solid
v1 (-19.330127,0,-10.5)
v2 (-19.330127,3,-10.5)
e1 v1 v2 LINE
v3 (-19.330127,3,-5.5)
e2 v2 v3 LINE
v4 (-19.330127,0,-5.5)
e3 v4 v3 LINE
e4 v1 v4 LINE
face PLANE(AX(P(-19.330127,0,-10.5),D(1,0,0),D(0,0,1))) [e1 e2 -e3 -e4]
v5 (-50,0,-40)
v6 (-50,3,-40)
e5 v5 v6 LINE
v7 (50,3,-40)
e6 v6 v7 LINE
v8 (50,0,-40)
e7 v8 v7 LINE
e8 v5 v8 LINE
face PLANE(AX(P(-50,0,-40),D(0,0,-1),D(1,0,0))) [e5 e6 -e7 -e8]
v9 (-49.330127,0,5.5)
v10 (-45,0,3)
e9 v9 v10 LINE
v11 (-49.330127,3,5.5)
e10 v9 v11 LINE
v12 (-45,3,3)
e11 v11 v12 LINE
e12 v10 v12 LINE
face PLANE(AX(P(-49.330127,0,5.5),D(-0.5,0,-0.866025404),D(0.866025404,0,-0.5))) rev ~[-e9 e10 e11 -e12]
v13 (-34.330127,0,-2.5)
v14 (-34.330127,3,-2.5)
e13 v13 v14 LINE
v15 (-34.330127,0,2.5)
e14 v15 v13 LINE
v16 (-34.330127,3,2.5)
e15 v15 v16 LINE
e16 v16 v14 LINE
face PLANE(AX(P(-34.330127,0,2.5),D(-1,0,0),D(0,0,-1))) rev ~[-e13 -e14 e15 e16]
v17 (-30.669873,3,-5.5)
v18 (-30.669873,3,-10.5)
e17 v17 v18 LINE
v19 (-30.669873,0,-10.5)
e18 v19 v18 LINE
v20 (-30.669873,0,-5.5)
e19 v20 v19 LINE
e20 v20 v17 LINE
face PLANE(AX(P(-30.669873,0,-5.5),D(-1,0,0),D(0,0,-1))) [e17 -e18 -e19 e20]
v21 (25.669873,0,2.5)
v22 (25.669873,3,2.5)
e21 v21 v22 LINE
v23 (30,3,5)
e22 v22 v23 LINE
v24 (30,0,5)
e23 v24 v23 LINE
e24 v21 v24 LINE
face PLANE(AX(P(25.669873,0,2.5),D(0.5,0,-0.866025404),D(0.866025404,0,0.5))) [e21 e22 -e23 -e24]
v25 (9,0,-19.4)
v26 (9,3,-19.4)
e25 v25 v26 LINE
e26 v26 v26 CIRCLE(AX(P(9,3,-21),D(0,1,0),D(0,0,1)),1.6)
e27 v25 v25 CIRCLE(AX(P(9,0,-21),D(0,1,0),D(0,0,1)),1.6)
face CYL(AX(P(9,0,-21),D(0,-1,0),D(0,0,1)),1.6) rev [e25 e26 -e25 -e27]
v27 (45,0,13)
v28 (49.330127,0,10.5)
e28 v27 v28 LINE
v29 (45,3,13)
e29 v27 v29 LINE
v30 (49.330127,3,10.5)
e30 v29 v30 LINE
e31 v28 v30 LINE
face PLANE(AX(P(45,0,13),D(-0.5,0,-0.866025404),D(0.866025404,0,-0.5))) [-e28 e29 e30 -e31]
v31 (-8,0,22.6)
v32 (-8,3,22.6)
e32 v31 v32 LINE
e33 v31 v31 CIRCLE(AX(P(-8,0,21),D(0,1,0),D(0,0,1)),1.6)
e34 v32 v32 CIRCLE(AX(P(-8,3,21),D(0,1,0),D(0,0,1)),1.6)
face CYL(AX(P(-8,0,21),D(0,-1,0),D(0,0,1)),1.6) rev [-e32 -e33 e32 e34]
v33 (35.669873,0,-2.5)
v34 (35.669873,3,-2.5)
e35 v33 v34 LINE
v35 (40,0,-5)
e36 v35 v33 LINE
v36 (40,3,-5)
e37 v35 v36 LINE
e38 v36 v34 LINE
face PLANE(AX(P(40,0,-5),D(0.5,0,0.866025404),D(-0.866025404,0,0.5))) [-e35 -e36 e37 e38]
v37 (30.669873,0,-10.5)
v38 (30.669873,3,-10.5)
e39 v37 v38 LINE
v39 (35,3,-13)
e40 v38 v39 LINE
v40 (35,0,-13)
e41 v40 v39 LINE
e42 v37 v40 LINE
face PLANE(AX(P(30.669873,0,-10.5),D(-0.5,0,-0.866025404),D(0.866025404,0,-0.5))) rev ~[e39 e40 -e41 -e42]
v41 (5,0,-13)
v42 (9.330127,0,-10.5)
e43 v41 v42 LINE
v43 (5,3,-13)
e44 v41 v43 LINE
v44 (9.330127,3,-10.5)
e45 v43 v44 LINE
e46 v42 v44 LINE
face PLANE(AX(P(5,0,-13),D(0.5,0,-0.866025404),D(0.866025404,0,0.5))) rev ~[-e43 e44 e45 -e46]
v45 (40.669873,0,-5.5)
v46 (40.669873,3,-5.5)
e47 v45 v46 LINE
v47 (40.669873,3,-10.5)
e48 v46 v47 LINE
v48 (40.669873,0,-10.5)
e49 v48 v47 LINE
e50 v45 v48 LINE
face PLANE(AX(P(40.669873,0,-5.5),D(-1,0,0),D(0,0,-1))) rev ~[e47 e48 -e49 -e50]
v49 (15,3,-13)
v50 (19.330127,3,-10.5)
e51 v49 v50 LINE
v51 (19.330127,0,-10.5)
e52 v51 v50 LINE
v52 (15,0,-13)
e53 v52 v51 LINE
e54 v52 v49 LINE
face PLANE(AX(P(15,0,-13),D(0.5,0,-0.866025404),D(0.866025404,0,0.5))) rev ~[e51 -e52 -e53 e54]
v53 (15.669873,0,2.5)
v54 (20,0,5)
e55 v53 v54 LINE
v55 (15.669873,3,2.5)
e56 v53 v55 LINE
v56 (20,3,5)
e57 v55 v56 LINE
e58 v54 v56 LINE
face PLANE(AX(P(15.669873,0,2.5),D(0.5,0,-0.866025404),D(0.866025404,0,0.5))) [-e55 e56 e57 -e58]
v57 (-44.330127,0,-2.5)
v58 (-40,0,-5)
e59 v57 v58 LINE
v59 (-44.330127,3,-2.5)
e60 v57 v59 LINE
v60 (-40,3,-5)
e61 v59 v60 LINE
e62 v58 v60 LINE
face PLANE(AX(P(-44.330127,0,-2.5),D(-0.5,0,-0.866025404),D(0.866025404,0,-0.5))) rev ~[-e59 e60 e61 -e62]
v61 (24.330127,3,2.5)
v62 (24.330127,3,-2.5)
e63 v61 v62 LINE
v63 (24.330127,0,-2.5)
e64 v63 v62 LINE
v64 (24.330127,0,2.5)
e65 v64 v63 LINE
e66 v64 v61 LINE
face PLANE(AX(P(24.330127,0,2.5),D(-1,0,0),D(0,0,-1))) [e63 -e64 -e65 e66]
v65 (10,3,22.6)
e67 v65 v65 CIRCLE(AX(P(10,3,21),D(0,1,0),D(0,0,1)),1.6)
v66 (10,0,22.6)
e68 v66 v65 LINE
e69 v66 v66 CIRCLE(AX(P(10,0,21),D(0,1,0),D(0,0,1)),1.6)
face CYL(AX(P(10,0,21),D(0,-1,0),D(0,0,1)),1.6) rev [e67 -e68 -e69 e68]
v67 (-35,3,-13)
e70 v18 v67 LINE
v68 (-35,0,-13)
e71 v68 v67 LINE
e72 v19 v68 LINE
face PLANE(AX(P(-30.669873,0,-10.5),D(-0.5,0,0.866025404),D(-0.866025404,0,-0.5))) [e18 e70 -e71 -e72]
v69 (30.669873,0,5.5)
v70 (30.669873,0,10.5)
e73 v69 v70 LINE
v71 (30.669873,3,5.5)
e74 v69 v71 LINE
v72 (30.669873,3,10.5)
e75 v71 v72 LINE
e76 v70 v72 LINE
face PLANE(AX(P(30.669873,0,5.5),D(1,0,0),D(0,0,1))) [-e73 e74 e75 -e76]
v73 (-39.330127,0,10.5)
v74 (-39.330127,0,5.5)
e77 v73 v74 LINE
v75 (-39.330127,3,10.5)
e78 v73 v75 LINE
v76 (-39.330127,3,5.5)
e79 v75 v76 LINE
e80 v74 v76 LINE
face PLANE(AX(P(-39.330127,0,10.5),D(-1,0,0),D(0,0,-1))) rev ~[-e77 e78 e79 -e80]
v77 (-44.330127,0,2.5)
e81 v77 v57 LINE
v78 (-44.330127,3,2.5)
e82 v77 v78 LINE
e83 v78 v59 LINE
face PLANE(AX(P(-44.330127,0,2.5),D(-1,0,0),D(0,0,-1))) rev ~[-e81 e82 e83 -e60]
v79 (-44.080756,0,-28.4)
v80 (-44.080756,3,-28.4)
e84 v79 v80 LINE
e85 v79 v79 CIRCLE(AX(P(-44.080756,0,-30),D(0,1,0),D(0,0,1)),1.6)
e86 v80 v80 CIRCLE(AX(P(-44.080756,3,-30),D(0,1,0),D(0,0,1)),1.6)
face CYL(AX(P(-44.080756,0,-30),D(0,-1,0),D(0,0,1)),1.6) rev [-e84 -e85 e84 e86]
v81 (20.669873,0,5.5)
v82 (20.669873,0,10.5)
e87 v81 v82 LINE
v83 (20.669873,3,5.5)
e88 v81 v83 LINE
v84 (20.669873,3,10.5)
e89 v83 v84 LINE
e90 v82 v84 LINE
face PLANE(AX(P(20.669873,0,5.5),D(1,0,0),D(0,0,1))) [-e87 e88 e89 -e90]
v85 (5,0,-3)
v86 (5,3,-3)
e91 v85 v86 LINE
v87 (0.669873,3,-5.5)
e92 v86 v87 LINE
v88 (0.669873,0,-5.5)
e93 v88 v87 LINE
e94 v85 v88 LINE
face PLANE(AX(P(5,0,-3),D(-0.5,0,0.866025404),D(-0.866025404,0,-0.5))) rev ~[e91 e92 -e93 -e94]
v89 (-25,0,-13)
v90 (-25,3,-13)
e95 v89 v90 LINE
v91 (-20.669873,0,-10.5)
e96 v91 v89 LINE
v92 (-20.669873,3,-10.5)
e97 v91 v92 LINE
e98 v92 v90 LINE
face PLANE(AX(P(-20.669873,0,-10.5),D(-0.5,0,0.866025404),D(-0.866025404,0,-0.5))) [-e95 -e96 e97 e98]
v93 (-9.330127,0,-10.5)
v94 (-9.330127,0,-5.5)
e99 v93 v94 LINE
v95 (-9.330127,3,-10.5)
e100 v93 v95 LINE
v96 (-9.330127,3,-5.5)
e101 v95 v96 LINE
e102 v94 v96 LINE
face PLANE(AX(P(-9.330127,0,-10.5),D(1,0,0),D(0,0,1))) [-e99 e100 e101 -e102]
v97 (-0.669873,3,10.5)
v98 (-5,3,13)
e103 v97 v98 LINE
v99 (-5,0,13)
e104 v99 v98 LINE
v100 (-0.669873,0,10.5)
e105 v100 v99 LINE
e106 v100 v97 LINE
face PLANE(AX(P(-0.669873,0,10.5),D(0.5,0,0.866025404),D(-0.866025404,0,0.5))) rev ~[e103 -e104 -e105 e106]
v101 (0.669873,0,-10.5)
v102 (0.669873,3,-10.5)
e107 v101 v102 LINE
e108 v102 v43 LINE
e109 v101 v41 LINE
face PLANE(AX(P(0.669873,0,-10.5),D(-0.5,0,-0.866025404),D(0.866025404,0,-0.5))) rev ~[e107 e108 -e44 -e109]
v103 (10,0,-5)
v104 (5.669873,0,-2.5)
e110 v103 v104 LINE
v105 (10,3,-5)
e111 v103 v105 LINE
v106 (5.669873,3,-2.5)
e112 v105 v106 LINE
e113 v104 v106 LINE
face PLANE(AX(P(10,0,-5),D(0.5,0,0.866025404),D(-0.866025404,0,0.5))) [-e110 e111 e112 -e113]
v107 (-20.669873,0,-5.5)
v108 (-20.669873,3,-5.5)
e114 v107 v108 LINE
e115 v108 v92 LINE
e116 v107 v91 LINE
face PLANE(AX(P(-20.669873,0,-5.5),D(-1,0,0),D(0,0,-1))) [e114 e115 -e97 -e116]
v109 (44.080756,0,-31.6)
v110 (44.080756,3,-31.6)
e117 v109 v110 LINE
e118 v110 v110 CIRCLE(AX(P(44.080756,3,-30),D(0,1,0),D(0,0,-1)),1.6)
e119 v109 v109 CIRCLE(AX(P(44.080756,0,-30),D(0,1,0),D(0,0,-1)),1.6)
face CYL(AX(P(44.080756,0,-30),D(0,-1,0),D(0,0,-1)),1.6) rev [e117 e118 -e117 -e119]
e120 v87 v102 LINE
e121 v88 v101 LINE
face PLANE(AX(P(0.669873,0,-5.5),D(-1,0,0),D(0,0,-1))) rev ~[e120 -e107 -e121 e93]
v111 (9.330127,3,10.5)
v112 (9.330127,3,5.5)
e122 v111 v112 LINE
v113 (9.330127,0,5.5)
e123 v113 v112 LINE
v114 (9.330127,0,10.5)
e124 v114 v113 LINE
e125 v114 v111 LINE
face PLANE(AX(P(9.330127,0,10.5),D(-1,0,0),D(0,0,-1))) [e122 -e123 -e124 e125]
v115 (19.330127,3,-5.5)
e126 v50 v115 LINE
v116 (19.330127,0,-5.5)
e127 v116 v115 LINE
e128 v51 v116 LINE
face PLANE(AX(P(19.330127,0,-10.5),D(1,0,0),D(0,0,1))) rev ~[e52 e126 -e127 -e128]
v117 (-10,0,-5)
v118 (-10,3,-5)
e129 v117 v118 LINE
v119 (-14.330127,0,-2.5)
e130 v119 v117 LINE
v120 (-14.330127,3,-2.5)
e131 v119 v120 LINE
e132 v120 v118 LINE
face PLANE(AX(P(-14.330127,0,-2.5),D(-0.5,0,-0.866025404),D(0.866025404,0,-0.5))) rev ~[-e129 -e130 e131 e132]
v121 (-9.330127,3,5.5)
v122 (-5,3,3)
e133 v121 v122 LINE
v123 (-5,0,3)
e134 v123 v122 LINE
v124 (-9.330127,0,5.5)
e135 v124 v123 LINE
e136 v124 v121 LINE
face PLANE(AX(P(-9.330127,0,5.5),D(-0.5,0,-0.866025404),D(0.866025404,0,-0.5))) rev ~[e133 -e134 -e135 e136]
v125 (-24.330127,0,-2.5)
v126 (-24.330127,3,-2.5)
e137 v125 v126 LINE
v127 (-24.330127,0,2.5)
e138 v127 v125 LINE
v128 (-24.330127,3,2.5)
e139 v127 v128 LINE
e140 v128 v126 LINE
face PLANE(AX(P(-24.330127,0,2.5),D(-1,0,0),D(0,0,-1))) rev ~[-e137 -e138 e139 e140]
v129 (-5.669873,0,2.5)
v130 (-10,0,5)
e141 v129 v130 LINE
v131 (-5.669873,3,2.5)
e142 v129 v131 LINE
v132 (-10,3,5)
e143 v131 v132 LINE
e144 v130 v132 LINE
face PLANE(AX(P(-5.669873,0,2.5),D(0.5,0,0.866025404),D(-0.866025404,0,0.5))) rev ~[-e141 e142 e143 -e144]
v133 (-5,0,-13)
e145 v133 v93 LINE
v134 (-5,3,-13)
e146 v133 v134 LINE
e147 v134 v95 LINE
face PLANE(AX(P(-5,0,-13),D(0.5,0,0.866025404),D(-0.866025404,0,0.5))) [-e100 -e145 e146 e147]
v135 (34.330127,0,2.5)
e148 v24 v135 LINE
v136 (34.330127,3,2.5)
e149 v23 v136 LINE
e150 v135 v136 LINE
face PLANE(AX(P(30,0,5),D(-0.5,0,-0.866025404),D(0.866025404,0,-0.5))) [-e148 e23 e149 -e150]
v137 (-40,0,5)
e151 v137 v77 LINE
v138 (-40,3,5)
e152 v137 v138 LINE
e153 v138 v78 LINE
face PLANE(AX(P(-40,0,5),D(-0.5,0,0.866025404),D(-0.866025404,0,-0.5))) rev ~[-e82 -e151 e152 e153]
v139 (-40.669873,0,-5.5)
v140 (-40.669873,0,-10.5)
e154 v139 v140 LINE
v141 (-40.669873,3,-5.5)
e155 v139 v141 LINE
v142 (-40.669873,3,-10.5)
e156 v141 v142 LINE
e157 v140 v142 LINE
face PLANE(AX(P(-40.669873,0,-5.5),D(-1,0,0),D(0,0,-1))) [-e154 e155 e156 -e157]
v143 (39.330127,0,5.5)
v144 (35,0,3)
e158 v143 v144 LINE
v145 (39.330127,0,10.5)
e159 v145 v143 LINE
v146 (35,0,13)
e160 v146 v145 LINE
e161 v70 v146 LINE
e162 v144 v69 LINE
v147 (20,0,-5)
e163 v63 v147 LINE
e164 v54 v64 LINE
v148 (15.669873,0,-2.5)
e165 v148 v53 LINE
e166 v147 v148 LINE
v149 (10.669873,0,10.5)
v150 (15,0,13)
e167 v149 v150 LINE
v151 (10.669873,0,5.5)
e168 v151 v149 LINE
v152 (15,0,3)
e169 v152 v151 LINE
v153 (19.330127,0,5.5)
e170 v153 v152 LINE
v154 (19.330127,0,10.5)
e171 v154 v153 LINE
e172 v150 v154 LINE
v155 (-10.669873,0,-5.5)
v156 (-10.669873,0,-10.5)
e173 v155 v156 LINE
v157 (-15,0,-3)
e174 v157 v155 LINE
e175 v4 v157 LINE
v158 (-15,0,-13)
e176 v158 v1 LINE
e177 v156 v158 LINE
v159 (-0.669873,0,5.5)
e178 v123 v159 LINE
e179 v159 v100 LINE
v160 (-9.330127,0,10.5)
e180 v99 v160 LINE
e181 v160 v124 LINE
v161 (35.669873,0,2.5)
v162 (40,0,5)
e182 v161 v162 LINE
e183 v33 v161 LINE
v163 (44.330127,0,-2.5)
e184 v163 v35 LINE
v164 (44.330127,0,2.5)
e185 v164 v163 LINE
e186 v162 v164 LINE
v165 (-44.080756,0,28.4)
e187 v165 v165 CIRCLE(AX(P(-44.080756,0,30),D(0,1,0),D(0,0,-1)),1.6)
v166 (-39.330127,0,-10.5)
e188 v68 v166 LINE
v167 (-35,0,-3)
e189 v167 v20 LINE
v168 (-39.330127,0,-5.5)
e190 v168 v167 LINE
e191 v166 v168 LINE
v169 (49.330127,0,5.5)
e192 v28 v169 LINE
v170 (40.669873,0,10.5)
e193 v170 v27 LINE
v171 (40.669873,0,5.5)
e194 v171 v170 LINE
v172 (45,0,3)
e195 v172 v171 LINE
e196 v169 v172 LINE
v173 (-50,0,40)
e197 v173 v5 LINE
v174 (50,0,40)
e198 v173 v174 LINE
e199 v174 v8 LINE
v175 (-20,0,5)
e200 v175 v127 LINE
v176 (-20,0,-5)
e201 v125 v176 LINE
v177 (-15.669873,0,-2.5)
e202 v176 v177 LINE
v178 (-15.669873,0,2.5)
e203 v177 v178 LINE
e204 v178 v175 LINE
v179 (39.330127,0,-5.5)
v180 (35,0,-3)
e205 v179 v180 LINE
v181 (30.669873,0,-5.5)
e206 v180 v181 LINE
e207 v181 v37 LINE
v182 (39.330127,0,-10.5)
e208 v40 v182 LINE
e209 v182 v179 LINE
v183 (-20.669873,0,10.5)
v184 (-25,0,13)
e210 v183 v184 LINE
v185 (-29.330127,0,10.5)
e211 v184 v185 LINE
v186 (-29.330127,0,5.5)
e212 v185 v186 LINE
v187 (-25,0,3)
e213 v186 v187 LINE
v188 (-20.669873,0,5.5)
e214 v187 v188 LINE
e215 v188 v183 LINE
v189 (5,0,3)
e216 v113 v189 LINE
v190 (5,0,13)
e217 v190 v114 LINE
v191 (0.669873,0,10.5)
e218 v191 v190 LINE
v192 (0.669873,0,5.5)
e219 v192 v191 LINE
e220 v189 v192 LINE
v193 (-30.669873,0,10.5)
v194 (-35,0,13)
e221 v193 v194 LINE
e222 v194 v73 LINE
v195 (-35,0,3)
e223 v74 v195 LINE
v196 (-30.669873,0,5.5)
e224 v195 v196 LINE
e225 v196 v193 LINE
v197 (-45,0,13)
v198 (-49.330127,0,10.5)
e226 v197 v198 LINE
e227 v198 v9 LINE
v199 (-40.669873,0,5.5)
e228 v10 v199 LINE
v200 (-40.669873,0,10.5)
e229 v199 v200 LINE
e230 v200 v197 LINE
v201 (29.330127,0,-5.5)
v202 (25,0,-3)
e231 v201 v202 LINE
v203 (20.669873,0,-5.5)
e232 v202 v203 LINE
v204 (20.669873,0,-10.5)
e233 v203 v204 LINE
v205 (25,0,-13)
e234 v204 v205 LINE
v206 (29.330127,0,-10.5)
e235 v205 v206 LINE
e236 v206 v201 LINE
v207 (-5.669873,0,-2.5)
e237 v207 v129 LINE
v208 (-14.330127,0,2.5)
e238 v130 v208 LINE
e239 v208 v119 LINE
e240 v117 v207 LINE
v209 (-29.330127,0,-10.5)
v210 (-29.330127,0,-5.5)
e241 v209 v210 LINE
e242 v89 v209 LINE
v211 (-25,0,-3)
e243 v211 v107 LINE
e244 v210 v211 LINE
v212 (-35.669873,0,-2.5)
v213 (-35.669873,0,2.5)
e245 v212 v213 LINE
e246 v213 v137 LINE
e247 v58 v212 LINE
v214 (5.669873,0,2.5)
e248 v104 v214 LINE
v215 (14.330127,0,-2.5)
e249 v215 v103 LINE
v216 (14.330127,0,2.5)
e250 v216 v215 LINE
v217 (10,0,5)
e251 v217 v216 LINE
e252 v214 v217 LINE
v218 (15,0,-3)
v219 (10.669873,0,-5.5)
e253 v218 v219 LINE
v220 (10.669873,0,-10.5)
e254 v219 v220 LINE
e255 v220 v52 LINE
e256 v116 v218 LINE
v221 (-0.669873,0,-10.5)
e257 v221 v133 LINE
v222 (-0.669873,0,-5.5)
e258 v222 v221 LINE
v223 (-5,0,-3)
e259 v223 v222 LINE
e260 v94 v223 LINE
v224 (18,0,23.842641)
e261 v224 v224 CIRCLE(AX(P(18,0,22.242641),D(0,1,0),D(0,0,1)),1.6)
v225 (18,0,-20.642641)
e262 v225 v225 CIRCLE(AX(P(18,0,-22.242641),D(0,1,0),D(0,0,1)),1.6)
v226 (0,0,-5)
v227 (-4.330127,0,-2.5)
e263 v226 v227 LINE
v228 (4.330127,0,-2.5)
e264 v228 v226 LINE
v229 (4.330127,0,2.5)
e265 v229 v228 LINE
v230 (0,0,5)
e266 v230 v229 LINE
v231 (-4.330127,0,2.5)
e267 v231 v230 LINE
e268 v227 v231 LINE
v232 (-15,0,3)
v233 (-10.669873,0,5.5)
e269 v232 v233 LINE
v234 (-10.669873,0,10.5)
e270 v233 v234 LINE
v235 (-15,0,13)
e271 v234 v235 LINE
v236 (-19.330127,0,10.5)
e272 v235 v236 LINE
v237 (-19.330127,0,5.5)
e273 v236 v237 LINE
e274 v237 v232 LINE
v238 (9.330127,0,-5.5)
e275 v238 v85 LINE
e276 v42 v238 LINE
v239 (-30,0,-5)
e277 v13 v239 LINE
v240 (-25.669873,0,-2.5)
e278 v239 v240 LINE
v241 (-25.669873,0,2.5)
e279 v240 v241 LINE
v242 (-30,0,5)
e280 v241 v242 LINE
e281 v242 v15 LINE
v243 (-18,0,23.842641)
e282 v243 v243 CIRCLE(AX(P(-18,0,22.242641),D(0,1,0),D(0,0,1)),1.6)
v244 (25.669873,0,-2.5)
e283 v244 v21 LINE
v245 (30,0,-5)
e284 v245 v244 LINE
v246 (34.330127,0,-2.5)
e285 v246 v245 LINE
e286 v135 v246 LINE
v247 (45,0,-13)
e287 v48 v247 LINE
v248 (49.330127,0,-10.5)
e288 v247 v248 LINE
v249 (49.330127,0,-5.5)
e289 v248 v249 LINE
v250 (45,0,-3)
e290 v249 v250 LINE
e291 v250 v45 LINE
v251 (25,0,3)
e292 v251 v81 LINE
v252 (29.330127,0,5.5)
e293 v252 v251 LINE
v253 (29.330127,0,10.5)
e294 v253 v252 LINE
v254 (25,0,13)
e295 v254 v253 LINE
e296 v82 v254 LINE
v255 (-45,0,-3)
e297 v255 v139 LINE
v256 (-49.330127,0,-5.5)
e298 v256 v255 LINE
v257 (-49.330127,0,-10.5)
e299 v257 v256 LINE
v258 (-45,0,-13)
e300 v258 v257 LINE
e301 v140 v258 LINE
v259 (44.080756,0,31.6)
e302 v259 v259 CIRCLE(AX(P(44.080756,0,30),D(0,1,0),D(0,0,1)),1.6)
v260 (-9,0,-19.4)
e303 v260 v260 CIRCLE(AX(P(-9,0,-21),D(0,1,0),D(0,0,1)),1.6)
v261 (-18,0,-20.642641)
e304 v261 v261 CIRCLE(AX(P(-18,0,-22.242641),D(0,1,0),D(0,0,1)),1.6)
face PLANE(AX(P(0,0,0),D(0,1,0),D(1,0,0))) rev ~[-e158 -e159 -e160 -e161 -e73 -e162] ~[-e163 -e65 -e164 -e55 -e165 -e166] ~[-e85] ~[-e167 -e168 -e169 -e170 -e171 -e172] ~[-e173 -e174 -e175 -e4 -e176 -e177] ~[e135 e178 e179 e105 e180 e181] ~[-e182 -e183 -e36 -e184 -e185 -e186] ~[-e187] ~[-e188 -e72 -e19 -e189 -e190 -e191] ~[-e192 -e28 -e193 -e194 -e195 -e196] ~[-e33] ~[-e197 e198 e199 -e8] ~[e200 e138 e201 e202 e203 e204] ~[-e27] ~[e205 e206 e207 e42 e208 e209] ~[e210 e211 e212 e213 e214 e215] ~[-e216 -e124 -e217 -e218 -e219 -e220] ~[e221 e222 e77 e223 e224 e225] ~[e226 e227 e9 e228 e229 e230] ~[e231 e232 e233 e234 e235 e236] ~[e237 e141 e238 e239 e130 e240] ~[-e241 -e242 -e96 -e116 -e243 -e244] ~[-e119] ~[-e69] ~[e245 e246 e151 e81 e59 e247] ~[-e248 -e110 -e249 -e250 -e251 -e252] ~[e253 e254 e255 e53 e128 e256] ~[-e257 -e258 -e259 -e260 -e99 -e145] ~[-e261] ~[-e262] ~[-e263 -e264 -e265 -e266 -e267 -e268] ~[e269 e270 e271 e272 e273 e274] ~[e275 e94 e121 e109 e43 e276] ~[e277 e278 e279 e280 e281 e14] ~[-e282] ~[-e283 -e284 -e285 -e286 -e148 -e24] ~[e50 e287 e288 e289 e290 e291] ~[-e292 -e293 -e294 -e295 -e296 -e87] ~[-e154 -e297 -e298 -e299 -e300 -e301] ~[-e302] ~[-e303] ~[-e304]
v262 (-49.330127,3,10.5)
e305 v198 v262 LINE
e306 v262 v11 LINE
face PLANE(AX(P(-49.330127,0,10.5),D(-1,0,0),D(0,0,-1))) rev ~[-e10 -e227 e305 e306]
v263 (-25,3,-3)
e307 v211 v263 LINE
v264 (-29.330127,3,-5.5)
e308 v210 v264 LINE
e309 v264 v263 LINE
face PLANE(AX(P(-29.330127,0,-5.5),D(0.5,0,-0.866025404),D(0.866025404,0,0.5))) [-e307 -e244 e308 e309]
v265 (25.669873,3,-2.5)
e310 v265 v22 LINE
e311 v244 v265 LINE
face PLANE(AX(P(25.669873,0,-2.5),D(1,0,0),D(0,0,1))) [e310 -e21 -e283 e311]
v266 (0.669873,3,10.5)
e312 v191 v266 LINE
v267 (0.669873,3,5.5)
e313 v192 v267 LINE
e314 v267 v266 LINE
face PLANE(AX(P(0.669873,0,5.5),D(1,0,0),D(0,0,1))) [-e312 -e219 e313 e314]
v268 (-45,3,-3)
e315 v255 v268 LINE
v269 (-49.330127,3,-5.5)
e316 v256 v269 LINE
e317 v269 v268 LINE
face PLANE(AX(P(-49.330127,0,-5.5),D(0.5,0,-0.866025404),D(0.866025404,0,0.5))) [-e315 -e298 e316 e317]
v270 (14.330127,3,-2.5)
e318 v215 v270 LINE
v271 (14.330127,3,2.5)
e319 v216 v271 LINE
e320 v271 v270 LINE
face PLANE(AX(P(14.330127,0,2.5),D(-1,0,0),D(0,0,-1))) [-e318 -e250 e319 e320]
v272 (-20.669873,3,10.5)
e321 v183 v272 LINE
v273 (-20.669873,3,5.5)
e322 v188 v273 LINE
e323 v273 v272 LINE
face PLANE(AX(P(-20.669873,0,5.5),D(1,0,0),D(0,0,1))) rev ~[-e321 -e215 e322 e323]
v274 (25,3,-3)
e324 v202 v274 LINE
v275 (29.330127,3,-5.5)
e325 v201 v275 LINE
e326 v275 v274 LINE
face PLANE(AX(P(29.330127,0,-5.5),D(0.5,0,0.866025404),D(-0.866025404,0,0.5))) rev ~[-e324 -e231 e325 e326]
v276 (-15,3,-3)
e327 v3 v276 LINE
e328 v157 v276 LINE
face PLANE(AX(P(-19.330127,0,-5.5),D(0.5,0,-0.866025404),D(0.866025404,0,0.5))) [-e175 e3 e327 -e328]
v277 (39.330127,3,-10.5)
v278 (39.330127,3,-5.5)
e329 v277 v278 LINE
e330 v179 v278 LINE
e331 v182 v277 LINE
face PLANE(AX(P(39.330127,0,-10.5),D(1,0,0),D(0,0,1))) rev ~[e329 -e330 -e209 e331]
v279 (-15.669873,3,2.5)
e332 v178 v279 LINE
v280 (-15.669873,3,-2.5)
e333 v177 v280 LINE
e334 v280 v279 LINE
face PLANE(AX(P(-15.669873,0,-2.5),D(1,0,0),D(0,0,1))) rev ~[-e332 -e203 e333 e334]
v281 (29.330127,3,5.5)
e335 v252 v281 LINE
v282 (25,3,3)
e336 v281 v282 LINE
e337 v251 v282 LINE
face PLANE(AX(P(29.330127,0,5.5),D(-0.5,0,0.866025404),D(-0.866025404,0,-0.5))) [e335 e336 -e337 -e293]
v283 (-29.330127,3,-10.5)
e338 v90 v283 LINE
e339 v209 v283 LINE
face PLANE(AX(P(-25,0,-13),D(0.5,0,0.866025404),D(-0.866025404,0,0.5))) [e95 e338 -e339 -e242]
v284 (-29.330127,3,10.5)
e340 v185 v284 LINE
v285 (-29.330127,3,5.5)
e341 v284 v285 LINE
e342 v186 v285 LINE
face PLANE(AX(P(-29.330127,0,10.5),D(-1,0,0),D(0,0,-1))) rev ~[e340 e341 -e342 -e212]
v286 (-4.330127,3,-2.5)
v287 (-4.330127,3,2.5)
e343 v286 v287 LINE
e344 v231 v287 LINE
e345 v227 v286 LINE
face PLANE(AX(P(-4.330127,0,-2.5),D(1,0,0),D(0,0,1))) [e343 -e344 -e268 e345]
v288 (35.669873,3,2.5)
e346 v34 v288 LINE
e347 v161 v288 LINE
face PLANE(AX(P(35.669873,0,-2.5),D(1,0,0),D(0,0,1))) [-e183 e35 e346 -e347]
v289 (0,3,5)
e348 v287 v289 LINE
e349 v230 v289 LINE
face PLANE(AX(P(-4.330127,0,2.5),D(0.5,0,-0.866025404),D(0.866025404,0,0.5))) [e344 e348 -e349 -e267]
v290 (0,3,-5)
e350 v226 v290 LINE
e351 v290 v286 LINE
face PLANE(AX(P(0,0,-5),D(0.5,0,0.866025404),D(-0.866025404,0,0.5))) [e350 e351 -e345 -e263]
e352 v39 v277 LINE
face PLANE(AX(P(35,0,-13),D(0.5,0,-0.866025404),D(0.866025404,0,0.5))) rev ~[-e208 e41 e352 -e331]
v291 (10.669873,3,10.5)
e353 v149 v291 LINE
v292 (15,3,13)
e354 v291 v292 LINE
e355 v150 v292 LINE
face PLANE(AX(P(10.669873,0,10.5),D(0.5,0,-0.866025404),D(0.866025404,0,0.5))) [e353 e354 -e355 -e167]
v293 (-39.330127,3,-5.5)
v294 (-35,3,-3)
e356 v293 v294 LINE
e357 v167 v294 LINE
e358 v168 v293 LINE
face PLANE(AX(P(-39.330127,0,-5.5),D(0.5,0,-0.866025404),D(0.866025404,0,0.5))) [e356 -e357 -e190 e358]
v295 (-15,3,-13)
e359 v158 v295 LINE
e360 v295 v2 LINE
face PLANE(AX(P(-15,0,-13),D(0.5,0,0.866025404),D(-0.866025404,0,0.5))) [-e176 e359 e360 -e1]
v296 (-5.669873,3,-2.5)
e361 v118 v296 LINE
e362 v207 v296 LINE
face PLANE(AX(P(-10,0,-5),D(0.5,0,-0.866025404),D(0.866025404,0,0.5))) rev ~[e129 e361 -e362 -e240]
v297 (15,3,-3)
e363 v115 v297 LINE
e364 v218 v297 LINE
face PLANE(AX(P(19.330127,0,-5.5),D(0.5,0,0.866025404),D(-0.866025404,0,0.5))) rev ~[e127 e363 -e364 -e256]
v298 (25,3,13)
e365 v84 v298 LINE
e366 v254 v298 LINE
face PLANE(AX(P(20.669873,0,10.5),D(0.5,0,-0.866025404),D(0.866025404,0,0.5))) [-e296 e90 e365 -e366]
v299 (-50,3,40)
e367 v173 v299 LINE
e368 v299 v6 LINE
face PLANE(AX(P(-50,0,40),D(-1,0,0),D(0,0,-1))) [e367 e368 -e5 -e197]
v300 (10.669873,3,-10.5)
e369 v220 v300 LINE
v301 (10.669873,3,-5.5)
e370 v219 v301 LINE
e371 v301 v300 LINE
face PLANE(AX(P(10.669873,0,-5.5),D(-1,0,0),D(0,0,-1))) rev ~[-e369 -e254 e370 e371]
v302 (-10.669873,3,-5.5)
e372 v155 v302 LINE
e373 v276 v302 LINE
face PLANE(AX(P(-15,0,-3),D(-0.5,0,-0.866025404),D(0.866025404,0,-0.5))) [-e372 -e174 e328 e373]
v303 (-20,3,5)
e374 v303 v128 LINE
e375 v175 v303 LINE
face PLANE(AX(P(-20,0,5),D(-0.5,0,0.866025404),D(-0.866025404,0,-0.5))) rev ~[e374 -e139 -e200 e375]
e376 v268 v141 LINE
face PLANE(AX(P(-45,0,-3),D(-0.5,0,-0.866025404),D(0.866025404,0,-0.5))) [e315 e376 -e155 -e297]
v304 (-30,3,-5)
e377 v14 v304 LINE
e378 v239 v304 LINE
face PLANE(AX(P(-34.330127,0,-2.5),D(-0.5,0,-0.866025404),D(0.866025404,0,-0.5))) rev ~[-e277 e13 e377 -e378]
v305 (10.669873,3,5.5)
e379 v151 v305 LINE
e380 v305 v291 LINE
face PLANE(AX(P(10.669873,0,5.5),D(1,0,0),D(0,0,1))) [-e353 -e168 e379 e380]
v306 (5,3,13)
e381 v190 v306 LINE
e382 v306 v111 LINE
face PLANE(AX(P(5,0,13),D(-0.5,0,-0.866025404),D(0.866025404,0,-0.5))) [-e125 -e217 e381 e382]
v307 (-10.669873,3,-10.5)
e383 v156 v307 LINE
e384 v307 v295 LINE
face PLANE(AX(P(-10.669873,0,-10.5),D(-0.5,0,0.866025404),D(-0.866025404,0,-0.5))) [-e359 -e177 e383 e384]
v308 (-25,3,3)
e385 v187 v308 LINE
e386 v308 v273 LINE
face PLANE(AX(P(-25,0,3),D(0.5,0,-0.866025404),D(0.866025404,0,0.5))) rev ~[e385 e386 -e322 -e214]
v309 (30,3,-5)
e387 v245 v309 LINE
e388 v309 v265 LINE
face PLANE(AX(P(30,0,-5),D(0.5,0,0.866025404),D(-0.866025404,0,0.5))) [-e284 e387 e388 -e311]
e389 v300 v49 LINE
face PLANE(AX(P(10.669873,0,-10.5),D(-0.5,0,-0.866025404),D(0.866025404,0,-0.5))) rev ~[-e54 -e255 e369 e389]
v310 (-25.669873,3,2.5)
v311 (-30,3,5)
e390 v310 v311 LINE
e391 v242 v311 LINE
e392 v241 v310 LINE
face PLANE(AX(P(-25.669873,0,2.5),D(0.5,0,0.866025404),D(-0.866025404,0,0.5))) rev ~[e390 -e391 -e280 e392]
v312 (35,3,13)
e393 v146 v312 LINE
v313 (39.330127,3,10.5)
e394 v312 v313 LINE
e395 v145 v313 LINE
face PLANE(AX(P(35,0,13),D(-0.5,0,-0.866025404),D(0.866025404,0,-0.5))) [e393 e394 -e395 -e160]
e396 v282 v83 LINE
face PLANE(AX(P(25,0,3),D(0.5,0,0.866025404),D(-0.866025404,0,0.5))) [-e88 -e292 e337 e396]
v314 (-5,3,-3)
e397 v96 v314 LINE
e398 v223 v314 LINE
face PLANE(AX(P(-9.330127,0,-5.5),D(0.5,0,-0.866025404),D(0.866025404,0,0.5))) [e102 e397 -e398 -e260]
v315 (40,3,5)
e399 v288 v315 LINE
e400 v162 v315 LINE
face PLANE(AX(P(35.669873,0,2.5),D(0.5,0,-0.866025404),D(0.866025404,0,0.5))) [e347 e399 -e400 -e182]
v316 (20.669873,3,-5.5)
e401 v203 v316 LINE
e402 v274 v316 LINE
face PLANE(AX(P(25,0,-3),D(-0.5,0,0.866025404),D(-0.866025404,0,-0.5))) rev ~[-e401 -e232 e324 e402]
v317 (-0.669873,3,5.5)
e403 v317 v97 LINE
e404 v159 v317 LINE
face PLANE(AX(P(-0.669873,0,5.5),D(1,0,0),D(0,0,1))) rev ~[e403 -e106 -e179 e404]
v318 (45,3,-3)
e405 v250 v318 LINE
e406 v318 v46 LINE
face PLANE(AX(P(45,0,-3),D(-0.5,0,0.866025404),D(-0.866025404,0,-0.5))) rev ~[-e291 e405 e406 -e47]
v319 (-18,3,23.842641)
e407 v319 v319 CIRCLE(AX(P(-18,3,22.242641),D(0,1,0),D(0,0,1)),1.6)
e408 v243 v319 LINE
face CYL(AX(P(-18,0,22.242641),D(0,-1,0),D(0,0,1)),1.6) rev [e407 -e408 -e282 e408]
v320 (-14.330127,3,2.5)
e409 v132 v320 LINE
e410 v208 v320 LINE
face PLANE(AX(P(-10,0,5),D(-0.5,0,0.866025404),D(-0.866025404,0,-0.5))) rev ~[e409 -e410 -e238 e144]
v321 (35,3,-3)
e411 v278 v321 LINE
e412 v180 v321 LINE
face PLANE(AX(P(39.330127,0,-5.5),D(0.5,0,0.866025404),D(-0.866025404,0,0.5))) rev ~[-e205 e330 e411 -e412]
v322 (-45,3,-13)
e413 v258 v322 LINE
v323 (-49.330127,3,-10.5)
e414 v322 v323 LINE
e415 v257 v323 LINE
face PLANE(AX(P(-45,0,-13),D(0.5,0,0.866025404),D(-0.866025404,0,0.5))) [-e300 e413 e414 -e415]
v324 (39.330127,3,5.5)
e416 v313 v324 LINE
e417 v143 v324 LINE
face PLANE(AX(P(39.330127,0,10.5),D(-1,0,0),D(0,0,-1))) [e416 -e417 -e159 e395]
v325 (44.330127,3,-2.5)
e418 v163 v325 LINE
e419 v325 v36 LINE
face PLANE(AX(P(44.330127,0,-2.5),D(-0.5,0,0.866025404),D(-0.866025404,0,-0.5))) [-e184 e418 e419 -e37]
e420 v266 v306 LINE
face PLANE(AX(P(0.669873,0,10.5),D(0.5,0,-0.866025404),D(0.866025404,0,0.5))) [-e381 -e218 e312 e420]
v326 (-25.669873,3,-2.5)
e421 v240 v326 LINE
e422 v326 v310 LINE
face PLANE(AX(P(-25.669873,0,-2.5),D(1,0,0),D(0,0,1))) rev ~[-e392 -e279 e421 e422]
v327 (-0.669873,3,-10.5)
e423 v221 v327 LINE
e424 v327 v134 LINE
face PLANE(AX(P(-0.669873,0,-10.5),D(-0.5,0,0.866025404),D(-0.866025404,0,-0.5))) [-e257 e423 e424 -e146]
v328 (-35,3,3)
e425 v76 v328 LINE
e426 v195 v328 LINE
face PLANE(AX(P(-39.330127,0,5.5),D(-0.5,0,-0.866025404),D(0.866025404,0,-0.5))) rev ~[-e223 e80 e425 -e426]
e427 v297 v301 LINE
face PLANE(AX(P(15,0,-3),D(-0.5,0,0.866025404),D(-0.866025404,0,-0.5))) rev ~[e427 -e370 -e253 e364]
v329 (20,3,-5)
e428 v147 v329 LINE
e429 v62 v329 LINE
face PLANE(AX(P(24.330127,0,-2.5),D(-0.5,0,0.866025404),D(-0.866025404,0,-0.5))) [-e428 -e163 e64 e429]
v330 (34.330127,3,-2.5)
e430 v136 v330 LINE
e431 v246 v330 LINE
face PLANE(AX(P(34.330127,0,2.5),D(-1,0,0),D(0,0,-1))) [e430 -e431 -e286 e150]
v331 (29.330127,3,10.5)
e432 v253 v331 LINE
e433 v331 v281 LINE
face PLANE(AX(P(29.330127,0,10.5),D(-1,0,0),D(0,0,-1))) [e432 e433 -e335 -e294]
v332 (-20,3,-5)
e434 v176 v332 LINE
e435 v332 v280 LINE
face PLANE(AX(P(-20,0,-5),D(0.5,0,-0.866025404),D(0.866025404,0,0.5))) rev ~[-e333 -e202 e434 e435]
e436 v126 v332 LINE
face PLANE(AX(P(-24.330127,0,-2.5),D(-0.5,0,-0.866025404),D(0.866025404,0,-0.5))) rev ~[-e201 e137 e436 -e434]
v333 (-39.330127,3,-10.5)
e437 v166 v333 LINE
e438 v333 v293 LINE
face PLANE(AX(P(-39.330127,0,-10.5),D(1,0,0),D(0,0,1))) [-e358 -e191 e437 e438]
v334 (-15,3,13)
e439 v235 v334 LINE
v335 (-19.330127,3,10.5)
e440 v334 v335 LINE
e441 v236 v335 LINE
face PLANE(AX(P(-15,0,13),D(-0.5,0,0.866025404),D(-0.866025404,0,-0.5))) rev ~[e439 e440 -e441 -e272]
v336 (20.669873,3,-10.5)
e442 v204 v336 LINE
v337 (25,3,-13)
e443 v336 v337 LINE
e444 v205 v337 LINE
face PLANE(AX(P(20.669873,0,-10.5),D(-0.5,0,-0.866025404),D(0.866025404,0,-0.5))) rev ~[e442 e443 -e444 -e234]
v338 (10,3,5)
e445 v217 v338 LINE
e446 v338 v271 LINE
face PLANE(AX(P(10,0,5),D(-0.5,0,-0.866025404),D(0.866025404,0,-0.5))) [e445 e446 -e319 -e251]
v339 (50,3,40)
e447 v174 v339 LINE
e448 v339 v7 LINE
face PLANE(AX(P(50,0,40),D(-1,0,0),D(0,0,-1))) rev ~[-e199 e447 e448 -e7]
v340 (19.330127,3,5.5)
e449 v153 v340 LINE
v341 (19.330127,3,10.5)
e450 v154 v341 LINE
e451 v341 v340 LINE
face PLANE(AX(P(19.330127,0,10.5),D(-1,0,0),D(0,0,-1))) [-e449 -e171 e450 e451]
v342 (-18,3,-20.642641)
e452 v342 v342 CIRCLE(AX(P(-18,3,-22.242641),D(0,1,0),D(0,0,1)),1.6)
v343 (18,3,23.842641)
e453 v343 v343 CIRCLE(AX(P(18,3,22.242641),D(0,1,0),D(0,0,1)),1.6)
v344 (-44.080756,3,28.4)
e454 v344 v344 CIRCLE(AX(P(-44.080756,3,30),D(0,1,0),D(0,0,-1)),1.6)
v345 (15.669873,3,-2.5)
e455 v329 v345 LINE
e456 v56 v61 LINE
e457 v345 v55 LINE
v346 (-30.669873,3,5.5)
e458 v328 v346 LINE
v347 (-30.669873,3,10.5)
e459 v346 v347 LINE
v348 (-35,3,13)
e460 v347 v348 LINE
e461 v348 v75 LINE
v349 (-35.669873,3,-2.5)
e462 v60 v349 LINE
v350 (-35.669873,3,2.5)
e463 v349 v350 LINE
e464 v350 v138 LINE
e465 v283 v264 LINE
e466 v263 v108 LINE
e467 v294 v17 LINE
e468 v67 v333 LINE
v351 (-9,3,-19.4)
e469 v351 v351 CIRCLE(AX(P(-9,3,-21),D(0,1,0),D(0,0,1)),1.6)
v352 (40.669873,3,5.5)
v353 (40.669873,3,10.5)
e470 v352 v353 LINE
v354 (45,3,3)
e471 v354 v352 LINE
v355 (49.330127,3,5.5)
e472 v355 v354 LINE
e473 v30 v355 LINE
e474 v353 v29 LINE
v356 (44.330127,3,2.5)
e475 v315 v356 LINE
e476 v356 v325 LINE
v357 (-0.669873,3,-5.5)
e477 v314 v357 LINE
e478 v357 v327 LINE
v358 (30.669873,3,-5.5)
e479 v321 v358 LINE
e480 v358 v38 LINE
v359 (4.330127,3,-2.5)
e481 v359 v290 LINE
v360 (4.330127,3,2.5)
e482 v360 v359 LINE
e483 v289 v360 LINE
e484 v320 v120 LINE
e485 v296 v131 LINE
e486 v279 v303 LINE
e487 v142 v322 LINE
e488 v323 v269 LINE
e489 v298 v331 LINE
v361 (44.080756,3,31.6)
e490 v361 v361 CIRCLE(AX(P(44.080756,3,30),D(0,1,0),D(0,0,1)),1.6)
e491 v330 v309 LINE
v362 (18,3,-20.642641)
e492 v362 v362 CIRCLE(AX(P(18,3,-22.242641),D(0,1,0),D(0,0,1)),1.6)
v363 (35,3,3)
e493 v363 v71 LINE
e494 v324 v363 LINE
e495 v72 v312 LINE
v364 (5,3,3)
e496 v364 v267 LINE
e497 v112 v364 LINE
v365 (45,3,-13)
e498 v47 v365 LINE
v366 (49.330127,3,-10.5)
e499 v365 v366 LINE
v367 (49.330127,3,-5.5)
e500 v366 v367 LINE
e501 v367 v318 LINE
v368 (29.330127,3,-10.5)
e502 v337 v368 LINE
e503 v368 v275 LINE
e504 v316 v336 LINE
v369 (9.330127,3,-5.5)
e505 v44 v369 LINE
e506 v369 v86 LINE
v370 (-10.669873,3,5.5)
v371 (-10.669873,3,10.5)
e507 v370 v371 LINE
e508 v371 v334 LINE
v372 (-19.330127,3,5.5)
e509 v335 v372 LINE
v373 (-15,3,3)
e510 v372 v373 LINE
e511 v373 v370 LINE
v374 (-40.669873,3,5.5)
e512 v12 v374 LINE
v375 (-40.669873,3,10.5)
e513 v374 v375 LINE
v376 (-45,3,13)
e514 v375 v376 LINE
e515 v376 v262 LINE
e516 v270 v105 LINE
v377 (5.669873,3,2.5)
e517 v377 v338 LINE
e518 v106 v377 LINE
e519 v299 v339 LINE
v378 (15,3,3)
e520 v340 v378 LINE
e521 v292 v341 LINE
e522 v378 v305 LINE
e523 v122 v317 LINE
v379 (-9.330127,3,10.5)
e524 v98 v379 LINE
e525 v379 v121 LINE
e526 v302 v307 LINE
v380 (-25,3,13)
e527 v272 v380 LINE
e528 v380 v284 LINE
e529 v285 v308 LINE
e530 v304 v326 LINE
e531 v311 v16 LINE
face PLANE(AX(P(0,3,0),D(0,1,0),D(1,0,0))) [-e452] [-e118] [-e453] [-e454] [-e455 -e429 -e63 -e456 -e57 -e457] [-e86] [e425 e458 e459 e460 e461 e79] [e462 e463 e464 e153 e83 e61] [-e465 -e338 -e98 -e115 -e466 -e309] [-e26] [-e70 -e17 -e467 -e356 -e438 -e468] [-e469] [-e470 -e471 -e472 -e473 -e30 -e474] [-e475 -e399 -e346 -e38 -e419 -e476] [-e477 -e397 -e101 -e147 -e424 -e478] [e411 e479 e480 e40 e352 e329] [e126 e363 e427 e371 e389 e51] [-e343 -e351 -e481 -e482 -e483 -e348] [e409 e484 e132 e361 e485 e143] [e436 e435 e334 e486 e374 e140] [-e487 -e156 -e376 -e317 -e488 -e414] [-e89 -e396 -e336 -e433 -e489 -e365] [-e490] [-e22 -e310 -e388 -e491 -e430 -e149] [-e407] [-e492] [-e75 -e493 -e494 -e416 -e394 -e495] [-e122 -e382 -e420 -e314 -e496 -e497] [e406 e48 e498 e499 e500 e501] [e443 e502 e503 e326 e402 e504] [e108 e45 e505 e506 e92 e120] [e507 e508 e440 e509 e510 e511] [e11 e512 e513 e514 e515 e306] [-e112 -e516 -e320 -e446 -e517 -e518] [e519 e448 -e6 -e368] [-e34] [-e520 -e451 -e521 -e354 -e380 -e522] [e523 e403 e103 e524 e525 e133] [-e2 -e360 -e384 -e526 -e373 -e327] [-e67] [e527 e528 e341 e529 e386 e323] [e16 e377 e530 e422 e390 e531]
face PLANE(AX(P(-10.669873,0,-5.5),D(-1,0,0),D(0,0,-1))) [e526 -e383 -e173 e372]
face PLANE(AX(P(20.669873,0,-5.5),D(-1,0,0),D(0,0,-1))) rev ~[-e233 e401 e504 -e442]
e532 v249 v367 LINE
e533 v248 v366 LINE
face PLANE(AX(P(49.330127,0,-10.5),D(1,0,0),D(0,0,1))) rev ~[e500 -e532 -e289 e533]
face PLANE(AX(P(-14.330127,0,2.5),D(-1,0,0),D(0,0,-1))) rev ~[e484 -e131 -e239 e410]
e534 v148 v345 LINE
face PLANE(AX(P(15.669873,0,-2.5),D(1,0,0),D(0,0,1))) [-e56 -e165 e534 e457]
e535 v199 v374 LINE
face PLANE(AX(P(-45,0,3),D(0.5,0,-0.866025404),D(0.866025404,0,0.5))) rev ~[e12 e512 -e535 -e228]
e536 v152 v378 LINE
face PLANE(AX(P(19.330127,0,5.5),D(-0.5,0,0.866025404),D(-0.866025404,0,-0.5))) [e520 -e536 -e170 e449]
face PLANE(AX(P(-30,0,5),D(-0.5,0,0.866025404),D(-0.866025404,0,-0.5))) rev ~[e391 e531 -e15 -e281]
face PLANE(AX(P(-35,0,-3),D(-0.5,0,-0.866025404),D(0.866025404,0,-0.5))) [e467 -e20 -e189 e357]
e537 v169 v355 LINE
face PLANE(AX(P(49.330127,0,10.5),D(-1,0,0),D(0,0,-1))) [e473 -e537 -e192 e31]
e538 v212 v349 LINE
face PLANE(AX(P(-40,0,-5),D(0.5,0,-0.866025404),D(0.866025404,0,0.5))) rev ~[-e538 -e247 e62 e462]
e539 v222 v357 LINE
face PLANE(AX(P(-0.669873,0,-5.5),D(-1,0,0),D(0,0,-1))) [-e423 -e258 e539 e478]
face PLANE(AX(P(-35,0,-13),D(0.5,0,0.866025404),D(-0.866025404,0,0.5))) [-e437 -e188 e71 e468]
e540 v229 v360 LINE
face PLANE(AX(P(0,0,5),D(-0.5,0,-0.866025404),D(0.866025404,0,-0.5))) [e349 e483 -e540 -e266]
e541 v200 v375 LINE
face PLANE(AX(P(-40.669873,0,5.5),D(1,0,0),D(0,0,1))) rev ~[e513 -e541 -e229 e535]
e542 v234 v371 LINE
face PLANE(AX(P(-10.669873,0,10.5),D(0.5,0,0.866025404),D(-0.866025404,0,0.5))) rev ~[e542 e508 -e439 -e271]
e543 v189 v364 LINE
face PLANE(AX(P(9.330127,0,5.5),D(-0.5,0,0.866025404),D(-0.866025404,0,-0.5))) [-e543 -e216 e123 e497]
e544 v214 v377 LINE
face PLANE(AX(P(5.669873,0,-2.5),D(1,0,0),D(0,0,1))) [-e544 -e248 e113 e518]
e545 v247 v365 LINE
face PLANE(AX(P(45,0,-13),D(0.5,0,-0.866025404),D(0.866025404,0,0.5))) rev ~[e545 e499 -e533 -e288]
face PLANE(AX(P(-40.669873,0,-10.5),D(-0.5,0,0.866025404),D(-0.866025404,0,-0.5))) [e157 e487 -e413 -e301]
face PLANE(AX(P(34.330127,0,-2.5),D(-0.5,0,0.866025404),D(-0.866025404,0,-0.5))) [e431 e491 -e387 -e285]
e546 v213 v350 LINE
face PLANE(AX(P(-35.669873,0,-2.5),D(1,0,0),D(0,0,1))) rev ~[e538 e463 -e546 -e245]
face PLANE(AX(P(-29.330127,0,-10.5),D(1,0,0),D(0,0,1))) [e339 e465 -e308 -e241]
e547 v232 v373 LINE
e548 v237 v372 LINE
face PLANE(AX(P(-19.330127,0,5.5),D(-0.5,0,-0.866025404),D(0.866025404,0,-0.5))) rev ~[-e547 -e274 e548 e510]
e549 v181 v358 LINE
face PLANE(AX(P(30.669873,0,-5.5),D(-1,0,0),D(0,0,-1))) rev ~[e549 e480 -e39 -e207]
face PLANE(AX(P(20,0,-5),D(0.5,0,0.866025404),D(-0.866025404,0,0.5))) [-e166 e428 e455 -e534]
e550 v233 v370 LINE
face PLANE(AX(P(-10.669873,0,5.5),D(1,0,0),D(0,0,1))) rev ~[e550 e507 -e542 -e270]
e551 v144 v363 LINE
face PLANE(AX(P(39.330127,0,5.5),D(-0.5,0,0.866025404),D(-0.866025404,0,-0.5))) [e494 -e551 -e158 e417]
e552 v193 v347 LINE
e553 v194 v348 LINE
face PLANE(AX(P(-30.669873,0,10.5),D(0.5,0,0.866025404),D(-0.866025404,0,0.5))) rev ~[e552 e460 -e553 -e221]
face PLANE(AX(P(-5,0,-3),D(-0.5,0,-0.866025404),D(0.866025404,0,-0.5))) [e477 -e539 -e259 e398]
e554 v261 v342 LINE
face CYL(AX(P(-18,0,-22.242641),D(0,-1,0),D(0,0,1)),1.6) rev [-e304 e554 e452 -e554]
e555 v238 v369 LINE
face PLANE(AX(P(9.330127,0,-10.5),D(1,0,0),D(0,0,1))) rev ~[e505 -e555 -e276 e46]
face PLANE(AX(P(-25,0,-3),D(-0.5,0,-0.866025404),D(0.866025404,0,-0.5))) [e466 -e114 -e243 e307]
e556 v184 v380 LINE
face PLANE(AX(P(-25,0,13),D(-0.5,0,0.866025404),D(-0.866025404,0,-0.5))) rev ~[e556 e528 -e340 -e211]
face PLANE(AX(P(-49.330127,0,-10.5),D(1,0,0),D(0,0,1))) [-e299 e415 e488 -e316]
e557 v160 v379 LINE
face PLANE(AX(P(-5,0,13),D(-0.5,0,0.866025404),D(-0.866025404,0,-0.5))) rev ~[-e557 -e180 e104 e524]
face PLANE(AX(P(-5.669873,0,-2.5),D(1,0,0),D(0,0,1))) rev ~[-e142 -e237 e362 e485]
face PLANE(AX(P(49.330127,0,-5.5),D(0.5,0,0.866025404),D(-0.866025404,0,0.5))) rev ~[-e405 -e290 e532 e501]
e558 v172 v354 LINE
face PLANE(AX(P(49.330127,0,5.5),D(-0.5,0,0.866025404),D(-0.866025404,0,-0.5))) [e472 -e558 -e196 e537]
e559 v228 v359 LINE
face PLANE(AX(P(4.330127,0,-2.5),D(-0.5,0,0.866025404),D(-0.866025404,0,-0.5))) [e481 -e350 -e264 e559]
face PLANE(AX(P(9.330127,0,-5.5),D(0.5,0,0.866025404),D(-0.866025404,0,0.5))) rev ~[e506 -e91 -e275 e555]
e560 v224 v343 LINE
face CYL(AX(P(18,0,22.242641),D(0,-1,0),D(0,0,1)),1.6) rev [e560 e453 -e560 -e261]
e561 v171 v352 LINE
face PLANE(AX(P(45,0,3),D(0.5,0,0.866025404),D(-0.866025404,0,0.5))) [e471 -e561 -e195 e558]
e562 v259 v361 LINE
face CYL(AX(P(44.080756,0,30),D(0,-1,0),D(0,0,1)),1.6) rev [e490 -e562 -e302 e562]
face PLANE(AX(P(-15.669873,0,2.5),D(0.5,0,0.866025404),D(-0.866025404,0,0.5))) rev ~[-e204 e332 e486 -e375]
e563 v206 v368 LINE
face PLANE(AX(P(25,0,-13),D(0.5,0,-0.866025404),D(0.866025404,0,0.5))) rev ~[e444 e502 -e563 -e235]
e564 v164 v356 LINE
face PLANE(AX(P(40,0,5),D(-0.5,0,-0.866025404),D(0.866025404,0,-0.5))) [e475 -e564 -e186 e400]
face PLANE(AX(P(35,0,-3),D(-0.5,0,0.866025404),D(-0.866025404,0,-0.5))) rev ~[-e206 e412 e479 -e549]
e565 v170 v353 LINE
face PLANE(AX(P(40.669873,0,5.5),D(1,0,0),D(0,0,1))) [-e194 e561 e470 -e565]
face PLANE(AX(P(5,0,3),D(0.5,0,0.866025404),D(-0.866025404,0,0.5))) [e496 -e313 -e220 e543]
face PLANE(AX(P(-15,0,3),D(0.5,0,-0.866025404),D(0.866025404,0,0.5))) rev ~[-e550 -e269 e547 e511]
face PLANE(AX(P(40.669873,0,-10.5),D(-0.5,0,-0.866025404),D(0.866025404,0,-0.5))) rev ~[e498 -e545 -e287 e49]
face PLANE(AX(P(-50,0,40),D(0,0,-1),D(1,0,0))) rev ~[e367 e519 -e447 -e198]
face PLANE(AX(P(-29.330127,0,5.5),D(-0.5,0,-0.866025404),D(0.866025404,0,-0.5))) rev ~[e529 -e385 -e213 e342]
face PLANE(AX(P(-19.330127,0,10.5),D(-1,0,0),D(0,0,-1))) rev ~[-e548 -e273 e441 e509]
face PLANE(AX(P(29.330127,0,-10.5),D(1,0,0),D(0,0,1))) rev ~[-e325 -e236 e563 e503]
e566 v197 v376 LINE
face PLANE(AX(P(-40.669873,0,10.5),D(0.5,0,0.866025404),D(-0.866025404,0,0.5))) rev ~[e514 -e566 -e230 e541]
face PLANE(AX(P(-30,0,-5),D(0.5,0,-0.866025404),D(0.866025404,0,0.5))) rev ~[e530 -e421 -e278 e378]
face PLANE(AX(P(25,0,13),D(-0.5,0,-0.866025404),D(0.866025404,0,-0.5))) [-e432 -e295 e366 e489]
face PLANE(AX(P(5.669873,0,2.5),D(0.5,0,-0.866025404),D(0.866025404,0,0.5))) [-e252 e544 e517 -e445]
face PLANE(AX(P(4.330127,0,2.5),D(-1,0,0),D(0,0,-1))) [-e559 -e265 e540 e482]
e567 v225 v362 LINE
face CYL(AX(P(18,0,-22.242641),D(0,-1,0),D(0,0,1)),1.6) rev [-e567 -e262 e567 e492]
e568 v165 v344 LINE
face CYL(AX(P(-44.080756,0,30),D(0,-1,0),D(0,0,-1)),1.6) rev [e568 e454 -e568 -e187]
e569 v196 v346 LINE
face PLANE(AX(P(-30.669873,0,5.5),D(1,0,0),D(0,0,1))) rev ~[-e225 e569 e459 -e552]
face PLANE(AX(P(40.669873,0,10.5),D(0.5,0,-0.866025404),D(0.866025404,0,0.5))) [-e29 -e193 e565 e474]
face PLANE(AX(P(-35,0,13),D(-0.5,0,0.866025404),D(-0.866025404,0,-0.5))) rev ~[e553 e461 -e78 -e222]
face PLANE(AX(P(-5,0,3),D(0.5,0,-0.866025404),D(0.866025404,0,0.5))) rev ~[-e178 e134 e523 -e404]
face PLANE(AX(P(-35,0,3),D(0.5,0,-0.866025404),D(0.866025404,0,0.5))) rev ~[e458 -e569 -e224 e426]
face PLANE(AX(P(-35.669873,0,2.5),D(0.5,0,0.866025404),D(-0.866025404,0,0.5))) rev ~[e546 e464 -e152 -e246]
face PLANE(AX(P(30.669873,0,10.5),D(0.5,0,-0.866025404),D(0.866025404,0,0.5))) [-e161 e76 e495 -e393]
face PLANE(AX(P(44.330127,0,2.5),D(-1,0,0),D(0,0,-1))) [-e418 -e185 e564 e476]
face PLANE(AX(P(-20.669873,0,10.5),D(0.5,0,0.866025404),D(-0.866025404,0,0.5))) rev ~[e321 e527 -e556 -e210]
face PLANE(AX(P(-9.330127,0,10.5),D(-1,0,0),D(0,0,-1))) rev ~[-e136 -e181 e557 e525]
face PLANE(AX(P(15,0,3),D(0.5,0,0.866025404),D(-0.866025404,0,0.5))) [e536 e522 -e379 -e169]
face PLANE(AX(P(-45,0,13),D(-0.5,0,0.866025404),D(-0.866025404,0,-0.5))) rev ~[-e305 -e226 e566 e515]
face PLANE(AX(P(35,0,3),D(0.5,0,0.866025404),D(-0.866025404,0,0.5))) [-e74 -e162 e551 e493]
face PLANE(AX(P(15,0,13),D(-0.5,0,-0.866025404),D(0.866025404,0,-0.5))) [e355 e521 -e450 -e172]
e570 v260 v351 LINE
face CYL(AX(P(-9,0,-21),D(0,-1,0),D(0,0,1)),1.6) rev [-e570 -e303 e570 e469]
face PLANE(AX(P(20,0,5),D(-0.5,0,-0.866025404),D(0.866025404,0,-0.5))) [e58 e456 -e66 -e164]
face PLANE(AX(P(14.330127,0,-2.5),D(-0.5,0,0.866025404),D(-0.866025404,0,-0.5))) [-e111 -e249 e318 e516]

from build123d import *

# Parameters (mm, degrees)
SKETCH_1_W      = 100
SKETCH_1_H      = 80
SKETCH_1_R      = 1.6
EXTRUDE_1_DEPTH = 3


with BuildPart() as part:
    # 草图1 → 凸台-拉伸1 (new body)
    with BuildSketch(Plane(origin=(0, 0, 0), x_dir=(1, 0, 0), z_dir=(0, 1, 0))):
        Rectangle(SKETCH_1_W, SKETCH_1_H)
        with Locations(Location((-18, 22.242640687, 0), (0, 0, 270))):
            Circle(SKETCH_1_R, mode=Mode.SUBTRACT)
        with Locations(Location((18, 22.242640687, 0), (0, 0, 270))):
            Circle(SKETCH_1_R, mode=Mode.SUBTRACT)
        with Locations(Location((-18, -22.242640687, 0), (0, 0, 270))):
            Circle(SKETCH_1_R, mode=Mode.SUBTRACT)
        with Locations(Location((18, -22.242640687, 0), (0, 0, 270))):
            Circle(SKETCH_1_R, mode=Mode.SUBTRACT)
        with Locations(Location((-9, 21, 0), (0, 0, 270))):
            Circle(SKETCH_1_R, mode=Mode.SUBTRACT)
        with Locations(Location((9, 21, 0), (0, 0, 270))):
            Circle(SKETCH_1_R, mode=Mode.SUBTRACT)
        with Locations(Location((10, -21, 0), (0, 0, 270))):
            Circle(SKETCH_1_R, mode=Mode.SUBTRACT)
        with Locations(Location((-8, -21, 0), (0, 0, 270))):
            Circle(SKETCH_1_R, mode=Mode.SUBTRACT)
        with Locations(Location((-44.080756497, 30, 0), (0, 0, 270))):
            Circle(SKETCH_1_R, mode=Mode.SUBTRACT)
        with Locations(Location((44.080756497, 30, 0), (0, 0, 90))):
            Circle(SKETCH_1_R, mode=Mode.SUBTRACT)
        with Locations(Location((-44.080756497, -30, 0), (0, 0, 90))):
            Circle(SKETCH_1_R, mode=Mode.SUBTRACT)
        with Locations(Location((44.080756497, -30, 0), (0, 0, 270))):
            Circle(SKETCH_1_R, mode=Mode.SUBTRACT)
        Polygon((0, 5), (-4.330127019, 2.5), (-4.330127019, -2.5), (0, -5), (4.330127019, -2.5), (4.330127019, 2.5), align=None, mode=Mode.SUBTRACT)
        Polygon((5, -3), (0.669872981, -5.5), (0.669872981, -10.5), (5, -13), (9.330127019, -10.5), (9.330127019, -5.5), align=None, mode=Mode.SUBTRACT)
        Polygon((10, 5), (5.669872981, 2.5), (5.669872981, -2.5), (10, -5), (14.330127019, -2.5), (14.330127019, 2.5), align=None, mode=Mode.SUBTRACT)
        Polygon((20, 5), (15.669872981, 2.5), (15.669872981, -2.5), (20, -5), (24.330127019, -2.5), (24.330127019, 2.5), align=None, mode=Mode.SUBTRACT)
        Polygon((30, 5), (25.669872981, 2.5), (25.669872981, -2.5), (30, -5), (34.330127019, -2.5), (34.330127019, 2.5), align=None, mode=Mode.SUBTRACT)
        Polygon((40, 5), (35.669872981, 2.5), (35.669872981, -2.5), (40, -5), (44.330127019, -2.5), (44.330127019, 2.5), align=None, mode=Mode.SUBTRACT)
        Polygon((-44.330127019, 2.5), (-40, 5), (-35.669872981, 2.5), (-35.669872981, -2.5), (-40, -5), (-44.330127019, -2.5), align=None, mode=Mode.SUBTRACT)
        Polygon((-34.330127019, 2.5), (-30, 5), (-25.669872981, 2.5), (-25.669872981, -2.5), (-30, -5), (-34.330127019, -2.5), align=None, mode=Mode.SUBTRACT)
        Polygon((-24.330127019, 2.5), (-20, 5), (-15.669872981, 2.5), (-15.669872981, -2.5), (-20, -5), (-24.330127019, -2.5), align=None, mode=Mode.SUBTRACT)
        Polygon((-14.330127019, 2.5), (-10, 5), (-5.669872981, 2.5), (-5.669872981, -2.5), (-10, -5), (-14.330127019, -2.5), align=None, mode=Mode.SUBTRACT)
        Polygon((15, -3), (10.669872981, -5.5), (10.669872981, -10.5), (15, -13), (19.330127019, -10.5), (19.330127019, -5.5), align=None, mode=Mode.SUBTRACT)
        Polygon((25, -3), (20.669872981, -5.5), (20.669872981, -10.5), (25, -13), (29.330127019, -10.5), (29.330127019, -5.5), align=None, mode=Mode.SUBTRACT)
        Polygon((35, -3), (30.669872981, -5.5), (30.669872981, -10.5), (35, -13), (39.330127019, -10.5), (39.330127019, -5.5), align=None, mode=Mode.SUBTRACT)
        Polygon((45, -3), (40.669872981, -5.5), (40.669872981, -10.5), (45, -13), (49.330127019, -10.5), (49.330127019, -5.5), align=None, mode=Mode.SUBTRACT)
        Polygon((-49.330127019, -5.5), (-45, -3), (-40.669872981, -5.5), (-40.669872981, -10.5), (-45, -13), (-49.330127019, -10.5), align=None, mode=Mode.SUBTRACT)
        Polygon((-39.330127019, -5.5), (-35, -3), (-30.669872981, -5.5), (-30.669872981, -10.5), (-35, -13), (-39.330127019, -10.5), align=None, mode=Mode.SUBTRACT)
        Polygon((-29.330127019, -5.5), (-25, -3), (-20.669872981, -5.5), (-20.669872981, -10.5), (-25, -13), (-29.330127019, -10.5), align=None, mode=Mode.SUBTRACT)
        Polygon((-19.330127019, -5.5), (-15, -3), (-10.669872981, -5.5), (-10.669872981, -10.5), (-15, -13), (-19.330127019, -10.5), align=None, mode=Mode.SUBTRACT)
        Polygon((-9.330127019, -5.5), (-5, -3), (-0.669872981, -5.5), (-0.669872981, -10.5), (-5, -13), (-9.330127019, -10.5), align=None, mode=Mode.SUBTRACT)
        Polygon((49.330127019, 5.5), (45, 3), (40.669872981, 5.5), (40.669872981, 10.5), (45, 13), (49.330127019, 10.5), align=None, mode=Mode.SUBTRACT)
        Polygon((39.330127019, 5.5), (35, 3), (30.669872981, 5.5), (30.669872981, 10.5), (35, 13), (39.330127019, 10.5), align=None, mode=Mode.SUBTRACT)
        Polygon((29.330127019, 5.5), (25, 3), (20.669872981, 5.5), (20.669872981, 10.5), (25, 13), (29.330127019, 10.5), align=None, mode=Mode.SUBTRACT)
        Polygon((19.330127019, 5.5), (15, 3), (10.669872981, 5.5), (10.669872981, 10.5), (15, 13), (19.330127019, 10.5), align=None, mode=Mode.SUBTRACT)
        Polygon((9.330127019, 5.5), (5, 3), (0.669872981, 5.5), (0.669872981, 10.5), (5, 13), (9.330127019, 10.5), align=None, mode=Mode.SUBTRACT)
        Polygon((-9.330127019, 10.5), (-9.330127019, 5.5), (-5, 3), (-0.669872981, 5.5), (-0.669872981, 10.5), (-5, 13), align=None, mode=Mode.SUBTRACT)
        Polygon((-19.330127019, 10.5), (-19.330127019, 5.5), (-15, 3), (-10.669872981, 5.5), (-10.669872981, 10.5), (-15, 13), align=None, mode=Mode.SUBTRACT)
        Polygon((-29.330127019, 10.5), (-29.330127019, 5.5), (-25, 3), (-20.669872981, 5.5), (-20.669872981, 10.5), (-25, 13), align=None, mode=Mode.SUBTRACT)
        Polygon((-39.330127019, 10.5), (-39.330127019, 5.5), (-35, 3), (-30.669872981, 5.5), (-30.669872981, 10.5), (-35, 13), align=None, mode=Mode.SUBTRACT)
        Polygon((-49.330127019, 10.5), (-49.330127019, 5.5), (-45, 3), (-40.669872981, 5.5), (-40.669872981, 10.5), (-45, 13), align=None, mode=Mode.SUBTRACT)
    extrude(amount=EXTRUDE_1_DEPTH)


solid = part.part
